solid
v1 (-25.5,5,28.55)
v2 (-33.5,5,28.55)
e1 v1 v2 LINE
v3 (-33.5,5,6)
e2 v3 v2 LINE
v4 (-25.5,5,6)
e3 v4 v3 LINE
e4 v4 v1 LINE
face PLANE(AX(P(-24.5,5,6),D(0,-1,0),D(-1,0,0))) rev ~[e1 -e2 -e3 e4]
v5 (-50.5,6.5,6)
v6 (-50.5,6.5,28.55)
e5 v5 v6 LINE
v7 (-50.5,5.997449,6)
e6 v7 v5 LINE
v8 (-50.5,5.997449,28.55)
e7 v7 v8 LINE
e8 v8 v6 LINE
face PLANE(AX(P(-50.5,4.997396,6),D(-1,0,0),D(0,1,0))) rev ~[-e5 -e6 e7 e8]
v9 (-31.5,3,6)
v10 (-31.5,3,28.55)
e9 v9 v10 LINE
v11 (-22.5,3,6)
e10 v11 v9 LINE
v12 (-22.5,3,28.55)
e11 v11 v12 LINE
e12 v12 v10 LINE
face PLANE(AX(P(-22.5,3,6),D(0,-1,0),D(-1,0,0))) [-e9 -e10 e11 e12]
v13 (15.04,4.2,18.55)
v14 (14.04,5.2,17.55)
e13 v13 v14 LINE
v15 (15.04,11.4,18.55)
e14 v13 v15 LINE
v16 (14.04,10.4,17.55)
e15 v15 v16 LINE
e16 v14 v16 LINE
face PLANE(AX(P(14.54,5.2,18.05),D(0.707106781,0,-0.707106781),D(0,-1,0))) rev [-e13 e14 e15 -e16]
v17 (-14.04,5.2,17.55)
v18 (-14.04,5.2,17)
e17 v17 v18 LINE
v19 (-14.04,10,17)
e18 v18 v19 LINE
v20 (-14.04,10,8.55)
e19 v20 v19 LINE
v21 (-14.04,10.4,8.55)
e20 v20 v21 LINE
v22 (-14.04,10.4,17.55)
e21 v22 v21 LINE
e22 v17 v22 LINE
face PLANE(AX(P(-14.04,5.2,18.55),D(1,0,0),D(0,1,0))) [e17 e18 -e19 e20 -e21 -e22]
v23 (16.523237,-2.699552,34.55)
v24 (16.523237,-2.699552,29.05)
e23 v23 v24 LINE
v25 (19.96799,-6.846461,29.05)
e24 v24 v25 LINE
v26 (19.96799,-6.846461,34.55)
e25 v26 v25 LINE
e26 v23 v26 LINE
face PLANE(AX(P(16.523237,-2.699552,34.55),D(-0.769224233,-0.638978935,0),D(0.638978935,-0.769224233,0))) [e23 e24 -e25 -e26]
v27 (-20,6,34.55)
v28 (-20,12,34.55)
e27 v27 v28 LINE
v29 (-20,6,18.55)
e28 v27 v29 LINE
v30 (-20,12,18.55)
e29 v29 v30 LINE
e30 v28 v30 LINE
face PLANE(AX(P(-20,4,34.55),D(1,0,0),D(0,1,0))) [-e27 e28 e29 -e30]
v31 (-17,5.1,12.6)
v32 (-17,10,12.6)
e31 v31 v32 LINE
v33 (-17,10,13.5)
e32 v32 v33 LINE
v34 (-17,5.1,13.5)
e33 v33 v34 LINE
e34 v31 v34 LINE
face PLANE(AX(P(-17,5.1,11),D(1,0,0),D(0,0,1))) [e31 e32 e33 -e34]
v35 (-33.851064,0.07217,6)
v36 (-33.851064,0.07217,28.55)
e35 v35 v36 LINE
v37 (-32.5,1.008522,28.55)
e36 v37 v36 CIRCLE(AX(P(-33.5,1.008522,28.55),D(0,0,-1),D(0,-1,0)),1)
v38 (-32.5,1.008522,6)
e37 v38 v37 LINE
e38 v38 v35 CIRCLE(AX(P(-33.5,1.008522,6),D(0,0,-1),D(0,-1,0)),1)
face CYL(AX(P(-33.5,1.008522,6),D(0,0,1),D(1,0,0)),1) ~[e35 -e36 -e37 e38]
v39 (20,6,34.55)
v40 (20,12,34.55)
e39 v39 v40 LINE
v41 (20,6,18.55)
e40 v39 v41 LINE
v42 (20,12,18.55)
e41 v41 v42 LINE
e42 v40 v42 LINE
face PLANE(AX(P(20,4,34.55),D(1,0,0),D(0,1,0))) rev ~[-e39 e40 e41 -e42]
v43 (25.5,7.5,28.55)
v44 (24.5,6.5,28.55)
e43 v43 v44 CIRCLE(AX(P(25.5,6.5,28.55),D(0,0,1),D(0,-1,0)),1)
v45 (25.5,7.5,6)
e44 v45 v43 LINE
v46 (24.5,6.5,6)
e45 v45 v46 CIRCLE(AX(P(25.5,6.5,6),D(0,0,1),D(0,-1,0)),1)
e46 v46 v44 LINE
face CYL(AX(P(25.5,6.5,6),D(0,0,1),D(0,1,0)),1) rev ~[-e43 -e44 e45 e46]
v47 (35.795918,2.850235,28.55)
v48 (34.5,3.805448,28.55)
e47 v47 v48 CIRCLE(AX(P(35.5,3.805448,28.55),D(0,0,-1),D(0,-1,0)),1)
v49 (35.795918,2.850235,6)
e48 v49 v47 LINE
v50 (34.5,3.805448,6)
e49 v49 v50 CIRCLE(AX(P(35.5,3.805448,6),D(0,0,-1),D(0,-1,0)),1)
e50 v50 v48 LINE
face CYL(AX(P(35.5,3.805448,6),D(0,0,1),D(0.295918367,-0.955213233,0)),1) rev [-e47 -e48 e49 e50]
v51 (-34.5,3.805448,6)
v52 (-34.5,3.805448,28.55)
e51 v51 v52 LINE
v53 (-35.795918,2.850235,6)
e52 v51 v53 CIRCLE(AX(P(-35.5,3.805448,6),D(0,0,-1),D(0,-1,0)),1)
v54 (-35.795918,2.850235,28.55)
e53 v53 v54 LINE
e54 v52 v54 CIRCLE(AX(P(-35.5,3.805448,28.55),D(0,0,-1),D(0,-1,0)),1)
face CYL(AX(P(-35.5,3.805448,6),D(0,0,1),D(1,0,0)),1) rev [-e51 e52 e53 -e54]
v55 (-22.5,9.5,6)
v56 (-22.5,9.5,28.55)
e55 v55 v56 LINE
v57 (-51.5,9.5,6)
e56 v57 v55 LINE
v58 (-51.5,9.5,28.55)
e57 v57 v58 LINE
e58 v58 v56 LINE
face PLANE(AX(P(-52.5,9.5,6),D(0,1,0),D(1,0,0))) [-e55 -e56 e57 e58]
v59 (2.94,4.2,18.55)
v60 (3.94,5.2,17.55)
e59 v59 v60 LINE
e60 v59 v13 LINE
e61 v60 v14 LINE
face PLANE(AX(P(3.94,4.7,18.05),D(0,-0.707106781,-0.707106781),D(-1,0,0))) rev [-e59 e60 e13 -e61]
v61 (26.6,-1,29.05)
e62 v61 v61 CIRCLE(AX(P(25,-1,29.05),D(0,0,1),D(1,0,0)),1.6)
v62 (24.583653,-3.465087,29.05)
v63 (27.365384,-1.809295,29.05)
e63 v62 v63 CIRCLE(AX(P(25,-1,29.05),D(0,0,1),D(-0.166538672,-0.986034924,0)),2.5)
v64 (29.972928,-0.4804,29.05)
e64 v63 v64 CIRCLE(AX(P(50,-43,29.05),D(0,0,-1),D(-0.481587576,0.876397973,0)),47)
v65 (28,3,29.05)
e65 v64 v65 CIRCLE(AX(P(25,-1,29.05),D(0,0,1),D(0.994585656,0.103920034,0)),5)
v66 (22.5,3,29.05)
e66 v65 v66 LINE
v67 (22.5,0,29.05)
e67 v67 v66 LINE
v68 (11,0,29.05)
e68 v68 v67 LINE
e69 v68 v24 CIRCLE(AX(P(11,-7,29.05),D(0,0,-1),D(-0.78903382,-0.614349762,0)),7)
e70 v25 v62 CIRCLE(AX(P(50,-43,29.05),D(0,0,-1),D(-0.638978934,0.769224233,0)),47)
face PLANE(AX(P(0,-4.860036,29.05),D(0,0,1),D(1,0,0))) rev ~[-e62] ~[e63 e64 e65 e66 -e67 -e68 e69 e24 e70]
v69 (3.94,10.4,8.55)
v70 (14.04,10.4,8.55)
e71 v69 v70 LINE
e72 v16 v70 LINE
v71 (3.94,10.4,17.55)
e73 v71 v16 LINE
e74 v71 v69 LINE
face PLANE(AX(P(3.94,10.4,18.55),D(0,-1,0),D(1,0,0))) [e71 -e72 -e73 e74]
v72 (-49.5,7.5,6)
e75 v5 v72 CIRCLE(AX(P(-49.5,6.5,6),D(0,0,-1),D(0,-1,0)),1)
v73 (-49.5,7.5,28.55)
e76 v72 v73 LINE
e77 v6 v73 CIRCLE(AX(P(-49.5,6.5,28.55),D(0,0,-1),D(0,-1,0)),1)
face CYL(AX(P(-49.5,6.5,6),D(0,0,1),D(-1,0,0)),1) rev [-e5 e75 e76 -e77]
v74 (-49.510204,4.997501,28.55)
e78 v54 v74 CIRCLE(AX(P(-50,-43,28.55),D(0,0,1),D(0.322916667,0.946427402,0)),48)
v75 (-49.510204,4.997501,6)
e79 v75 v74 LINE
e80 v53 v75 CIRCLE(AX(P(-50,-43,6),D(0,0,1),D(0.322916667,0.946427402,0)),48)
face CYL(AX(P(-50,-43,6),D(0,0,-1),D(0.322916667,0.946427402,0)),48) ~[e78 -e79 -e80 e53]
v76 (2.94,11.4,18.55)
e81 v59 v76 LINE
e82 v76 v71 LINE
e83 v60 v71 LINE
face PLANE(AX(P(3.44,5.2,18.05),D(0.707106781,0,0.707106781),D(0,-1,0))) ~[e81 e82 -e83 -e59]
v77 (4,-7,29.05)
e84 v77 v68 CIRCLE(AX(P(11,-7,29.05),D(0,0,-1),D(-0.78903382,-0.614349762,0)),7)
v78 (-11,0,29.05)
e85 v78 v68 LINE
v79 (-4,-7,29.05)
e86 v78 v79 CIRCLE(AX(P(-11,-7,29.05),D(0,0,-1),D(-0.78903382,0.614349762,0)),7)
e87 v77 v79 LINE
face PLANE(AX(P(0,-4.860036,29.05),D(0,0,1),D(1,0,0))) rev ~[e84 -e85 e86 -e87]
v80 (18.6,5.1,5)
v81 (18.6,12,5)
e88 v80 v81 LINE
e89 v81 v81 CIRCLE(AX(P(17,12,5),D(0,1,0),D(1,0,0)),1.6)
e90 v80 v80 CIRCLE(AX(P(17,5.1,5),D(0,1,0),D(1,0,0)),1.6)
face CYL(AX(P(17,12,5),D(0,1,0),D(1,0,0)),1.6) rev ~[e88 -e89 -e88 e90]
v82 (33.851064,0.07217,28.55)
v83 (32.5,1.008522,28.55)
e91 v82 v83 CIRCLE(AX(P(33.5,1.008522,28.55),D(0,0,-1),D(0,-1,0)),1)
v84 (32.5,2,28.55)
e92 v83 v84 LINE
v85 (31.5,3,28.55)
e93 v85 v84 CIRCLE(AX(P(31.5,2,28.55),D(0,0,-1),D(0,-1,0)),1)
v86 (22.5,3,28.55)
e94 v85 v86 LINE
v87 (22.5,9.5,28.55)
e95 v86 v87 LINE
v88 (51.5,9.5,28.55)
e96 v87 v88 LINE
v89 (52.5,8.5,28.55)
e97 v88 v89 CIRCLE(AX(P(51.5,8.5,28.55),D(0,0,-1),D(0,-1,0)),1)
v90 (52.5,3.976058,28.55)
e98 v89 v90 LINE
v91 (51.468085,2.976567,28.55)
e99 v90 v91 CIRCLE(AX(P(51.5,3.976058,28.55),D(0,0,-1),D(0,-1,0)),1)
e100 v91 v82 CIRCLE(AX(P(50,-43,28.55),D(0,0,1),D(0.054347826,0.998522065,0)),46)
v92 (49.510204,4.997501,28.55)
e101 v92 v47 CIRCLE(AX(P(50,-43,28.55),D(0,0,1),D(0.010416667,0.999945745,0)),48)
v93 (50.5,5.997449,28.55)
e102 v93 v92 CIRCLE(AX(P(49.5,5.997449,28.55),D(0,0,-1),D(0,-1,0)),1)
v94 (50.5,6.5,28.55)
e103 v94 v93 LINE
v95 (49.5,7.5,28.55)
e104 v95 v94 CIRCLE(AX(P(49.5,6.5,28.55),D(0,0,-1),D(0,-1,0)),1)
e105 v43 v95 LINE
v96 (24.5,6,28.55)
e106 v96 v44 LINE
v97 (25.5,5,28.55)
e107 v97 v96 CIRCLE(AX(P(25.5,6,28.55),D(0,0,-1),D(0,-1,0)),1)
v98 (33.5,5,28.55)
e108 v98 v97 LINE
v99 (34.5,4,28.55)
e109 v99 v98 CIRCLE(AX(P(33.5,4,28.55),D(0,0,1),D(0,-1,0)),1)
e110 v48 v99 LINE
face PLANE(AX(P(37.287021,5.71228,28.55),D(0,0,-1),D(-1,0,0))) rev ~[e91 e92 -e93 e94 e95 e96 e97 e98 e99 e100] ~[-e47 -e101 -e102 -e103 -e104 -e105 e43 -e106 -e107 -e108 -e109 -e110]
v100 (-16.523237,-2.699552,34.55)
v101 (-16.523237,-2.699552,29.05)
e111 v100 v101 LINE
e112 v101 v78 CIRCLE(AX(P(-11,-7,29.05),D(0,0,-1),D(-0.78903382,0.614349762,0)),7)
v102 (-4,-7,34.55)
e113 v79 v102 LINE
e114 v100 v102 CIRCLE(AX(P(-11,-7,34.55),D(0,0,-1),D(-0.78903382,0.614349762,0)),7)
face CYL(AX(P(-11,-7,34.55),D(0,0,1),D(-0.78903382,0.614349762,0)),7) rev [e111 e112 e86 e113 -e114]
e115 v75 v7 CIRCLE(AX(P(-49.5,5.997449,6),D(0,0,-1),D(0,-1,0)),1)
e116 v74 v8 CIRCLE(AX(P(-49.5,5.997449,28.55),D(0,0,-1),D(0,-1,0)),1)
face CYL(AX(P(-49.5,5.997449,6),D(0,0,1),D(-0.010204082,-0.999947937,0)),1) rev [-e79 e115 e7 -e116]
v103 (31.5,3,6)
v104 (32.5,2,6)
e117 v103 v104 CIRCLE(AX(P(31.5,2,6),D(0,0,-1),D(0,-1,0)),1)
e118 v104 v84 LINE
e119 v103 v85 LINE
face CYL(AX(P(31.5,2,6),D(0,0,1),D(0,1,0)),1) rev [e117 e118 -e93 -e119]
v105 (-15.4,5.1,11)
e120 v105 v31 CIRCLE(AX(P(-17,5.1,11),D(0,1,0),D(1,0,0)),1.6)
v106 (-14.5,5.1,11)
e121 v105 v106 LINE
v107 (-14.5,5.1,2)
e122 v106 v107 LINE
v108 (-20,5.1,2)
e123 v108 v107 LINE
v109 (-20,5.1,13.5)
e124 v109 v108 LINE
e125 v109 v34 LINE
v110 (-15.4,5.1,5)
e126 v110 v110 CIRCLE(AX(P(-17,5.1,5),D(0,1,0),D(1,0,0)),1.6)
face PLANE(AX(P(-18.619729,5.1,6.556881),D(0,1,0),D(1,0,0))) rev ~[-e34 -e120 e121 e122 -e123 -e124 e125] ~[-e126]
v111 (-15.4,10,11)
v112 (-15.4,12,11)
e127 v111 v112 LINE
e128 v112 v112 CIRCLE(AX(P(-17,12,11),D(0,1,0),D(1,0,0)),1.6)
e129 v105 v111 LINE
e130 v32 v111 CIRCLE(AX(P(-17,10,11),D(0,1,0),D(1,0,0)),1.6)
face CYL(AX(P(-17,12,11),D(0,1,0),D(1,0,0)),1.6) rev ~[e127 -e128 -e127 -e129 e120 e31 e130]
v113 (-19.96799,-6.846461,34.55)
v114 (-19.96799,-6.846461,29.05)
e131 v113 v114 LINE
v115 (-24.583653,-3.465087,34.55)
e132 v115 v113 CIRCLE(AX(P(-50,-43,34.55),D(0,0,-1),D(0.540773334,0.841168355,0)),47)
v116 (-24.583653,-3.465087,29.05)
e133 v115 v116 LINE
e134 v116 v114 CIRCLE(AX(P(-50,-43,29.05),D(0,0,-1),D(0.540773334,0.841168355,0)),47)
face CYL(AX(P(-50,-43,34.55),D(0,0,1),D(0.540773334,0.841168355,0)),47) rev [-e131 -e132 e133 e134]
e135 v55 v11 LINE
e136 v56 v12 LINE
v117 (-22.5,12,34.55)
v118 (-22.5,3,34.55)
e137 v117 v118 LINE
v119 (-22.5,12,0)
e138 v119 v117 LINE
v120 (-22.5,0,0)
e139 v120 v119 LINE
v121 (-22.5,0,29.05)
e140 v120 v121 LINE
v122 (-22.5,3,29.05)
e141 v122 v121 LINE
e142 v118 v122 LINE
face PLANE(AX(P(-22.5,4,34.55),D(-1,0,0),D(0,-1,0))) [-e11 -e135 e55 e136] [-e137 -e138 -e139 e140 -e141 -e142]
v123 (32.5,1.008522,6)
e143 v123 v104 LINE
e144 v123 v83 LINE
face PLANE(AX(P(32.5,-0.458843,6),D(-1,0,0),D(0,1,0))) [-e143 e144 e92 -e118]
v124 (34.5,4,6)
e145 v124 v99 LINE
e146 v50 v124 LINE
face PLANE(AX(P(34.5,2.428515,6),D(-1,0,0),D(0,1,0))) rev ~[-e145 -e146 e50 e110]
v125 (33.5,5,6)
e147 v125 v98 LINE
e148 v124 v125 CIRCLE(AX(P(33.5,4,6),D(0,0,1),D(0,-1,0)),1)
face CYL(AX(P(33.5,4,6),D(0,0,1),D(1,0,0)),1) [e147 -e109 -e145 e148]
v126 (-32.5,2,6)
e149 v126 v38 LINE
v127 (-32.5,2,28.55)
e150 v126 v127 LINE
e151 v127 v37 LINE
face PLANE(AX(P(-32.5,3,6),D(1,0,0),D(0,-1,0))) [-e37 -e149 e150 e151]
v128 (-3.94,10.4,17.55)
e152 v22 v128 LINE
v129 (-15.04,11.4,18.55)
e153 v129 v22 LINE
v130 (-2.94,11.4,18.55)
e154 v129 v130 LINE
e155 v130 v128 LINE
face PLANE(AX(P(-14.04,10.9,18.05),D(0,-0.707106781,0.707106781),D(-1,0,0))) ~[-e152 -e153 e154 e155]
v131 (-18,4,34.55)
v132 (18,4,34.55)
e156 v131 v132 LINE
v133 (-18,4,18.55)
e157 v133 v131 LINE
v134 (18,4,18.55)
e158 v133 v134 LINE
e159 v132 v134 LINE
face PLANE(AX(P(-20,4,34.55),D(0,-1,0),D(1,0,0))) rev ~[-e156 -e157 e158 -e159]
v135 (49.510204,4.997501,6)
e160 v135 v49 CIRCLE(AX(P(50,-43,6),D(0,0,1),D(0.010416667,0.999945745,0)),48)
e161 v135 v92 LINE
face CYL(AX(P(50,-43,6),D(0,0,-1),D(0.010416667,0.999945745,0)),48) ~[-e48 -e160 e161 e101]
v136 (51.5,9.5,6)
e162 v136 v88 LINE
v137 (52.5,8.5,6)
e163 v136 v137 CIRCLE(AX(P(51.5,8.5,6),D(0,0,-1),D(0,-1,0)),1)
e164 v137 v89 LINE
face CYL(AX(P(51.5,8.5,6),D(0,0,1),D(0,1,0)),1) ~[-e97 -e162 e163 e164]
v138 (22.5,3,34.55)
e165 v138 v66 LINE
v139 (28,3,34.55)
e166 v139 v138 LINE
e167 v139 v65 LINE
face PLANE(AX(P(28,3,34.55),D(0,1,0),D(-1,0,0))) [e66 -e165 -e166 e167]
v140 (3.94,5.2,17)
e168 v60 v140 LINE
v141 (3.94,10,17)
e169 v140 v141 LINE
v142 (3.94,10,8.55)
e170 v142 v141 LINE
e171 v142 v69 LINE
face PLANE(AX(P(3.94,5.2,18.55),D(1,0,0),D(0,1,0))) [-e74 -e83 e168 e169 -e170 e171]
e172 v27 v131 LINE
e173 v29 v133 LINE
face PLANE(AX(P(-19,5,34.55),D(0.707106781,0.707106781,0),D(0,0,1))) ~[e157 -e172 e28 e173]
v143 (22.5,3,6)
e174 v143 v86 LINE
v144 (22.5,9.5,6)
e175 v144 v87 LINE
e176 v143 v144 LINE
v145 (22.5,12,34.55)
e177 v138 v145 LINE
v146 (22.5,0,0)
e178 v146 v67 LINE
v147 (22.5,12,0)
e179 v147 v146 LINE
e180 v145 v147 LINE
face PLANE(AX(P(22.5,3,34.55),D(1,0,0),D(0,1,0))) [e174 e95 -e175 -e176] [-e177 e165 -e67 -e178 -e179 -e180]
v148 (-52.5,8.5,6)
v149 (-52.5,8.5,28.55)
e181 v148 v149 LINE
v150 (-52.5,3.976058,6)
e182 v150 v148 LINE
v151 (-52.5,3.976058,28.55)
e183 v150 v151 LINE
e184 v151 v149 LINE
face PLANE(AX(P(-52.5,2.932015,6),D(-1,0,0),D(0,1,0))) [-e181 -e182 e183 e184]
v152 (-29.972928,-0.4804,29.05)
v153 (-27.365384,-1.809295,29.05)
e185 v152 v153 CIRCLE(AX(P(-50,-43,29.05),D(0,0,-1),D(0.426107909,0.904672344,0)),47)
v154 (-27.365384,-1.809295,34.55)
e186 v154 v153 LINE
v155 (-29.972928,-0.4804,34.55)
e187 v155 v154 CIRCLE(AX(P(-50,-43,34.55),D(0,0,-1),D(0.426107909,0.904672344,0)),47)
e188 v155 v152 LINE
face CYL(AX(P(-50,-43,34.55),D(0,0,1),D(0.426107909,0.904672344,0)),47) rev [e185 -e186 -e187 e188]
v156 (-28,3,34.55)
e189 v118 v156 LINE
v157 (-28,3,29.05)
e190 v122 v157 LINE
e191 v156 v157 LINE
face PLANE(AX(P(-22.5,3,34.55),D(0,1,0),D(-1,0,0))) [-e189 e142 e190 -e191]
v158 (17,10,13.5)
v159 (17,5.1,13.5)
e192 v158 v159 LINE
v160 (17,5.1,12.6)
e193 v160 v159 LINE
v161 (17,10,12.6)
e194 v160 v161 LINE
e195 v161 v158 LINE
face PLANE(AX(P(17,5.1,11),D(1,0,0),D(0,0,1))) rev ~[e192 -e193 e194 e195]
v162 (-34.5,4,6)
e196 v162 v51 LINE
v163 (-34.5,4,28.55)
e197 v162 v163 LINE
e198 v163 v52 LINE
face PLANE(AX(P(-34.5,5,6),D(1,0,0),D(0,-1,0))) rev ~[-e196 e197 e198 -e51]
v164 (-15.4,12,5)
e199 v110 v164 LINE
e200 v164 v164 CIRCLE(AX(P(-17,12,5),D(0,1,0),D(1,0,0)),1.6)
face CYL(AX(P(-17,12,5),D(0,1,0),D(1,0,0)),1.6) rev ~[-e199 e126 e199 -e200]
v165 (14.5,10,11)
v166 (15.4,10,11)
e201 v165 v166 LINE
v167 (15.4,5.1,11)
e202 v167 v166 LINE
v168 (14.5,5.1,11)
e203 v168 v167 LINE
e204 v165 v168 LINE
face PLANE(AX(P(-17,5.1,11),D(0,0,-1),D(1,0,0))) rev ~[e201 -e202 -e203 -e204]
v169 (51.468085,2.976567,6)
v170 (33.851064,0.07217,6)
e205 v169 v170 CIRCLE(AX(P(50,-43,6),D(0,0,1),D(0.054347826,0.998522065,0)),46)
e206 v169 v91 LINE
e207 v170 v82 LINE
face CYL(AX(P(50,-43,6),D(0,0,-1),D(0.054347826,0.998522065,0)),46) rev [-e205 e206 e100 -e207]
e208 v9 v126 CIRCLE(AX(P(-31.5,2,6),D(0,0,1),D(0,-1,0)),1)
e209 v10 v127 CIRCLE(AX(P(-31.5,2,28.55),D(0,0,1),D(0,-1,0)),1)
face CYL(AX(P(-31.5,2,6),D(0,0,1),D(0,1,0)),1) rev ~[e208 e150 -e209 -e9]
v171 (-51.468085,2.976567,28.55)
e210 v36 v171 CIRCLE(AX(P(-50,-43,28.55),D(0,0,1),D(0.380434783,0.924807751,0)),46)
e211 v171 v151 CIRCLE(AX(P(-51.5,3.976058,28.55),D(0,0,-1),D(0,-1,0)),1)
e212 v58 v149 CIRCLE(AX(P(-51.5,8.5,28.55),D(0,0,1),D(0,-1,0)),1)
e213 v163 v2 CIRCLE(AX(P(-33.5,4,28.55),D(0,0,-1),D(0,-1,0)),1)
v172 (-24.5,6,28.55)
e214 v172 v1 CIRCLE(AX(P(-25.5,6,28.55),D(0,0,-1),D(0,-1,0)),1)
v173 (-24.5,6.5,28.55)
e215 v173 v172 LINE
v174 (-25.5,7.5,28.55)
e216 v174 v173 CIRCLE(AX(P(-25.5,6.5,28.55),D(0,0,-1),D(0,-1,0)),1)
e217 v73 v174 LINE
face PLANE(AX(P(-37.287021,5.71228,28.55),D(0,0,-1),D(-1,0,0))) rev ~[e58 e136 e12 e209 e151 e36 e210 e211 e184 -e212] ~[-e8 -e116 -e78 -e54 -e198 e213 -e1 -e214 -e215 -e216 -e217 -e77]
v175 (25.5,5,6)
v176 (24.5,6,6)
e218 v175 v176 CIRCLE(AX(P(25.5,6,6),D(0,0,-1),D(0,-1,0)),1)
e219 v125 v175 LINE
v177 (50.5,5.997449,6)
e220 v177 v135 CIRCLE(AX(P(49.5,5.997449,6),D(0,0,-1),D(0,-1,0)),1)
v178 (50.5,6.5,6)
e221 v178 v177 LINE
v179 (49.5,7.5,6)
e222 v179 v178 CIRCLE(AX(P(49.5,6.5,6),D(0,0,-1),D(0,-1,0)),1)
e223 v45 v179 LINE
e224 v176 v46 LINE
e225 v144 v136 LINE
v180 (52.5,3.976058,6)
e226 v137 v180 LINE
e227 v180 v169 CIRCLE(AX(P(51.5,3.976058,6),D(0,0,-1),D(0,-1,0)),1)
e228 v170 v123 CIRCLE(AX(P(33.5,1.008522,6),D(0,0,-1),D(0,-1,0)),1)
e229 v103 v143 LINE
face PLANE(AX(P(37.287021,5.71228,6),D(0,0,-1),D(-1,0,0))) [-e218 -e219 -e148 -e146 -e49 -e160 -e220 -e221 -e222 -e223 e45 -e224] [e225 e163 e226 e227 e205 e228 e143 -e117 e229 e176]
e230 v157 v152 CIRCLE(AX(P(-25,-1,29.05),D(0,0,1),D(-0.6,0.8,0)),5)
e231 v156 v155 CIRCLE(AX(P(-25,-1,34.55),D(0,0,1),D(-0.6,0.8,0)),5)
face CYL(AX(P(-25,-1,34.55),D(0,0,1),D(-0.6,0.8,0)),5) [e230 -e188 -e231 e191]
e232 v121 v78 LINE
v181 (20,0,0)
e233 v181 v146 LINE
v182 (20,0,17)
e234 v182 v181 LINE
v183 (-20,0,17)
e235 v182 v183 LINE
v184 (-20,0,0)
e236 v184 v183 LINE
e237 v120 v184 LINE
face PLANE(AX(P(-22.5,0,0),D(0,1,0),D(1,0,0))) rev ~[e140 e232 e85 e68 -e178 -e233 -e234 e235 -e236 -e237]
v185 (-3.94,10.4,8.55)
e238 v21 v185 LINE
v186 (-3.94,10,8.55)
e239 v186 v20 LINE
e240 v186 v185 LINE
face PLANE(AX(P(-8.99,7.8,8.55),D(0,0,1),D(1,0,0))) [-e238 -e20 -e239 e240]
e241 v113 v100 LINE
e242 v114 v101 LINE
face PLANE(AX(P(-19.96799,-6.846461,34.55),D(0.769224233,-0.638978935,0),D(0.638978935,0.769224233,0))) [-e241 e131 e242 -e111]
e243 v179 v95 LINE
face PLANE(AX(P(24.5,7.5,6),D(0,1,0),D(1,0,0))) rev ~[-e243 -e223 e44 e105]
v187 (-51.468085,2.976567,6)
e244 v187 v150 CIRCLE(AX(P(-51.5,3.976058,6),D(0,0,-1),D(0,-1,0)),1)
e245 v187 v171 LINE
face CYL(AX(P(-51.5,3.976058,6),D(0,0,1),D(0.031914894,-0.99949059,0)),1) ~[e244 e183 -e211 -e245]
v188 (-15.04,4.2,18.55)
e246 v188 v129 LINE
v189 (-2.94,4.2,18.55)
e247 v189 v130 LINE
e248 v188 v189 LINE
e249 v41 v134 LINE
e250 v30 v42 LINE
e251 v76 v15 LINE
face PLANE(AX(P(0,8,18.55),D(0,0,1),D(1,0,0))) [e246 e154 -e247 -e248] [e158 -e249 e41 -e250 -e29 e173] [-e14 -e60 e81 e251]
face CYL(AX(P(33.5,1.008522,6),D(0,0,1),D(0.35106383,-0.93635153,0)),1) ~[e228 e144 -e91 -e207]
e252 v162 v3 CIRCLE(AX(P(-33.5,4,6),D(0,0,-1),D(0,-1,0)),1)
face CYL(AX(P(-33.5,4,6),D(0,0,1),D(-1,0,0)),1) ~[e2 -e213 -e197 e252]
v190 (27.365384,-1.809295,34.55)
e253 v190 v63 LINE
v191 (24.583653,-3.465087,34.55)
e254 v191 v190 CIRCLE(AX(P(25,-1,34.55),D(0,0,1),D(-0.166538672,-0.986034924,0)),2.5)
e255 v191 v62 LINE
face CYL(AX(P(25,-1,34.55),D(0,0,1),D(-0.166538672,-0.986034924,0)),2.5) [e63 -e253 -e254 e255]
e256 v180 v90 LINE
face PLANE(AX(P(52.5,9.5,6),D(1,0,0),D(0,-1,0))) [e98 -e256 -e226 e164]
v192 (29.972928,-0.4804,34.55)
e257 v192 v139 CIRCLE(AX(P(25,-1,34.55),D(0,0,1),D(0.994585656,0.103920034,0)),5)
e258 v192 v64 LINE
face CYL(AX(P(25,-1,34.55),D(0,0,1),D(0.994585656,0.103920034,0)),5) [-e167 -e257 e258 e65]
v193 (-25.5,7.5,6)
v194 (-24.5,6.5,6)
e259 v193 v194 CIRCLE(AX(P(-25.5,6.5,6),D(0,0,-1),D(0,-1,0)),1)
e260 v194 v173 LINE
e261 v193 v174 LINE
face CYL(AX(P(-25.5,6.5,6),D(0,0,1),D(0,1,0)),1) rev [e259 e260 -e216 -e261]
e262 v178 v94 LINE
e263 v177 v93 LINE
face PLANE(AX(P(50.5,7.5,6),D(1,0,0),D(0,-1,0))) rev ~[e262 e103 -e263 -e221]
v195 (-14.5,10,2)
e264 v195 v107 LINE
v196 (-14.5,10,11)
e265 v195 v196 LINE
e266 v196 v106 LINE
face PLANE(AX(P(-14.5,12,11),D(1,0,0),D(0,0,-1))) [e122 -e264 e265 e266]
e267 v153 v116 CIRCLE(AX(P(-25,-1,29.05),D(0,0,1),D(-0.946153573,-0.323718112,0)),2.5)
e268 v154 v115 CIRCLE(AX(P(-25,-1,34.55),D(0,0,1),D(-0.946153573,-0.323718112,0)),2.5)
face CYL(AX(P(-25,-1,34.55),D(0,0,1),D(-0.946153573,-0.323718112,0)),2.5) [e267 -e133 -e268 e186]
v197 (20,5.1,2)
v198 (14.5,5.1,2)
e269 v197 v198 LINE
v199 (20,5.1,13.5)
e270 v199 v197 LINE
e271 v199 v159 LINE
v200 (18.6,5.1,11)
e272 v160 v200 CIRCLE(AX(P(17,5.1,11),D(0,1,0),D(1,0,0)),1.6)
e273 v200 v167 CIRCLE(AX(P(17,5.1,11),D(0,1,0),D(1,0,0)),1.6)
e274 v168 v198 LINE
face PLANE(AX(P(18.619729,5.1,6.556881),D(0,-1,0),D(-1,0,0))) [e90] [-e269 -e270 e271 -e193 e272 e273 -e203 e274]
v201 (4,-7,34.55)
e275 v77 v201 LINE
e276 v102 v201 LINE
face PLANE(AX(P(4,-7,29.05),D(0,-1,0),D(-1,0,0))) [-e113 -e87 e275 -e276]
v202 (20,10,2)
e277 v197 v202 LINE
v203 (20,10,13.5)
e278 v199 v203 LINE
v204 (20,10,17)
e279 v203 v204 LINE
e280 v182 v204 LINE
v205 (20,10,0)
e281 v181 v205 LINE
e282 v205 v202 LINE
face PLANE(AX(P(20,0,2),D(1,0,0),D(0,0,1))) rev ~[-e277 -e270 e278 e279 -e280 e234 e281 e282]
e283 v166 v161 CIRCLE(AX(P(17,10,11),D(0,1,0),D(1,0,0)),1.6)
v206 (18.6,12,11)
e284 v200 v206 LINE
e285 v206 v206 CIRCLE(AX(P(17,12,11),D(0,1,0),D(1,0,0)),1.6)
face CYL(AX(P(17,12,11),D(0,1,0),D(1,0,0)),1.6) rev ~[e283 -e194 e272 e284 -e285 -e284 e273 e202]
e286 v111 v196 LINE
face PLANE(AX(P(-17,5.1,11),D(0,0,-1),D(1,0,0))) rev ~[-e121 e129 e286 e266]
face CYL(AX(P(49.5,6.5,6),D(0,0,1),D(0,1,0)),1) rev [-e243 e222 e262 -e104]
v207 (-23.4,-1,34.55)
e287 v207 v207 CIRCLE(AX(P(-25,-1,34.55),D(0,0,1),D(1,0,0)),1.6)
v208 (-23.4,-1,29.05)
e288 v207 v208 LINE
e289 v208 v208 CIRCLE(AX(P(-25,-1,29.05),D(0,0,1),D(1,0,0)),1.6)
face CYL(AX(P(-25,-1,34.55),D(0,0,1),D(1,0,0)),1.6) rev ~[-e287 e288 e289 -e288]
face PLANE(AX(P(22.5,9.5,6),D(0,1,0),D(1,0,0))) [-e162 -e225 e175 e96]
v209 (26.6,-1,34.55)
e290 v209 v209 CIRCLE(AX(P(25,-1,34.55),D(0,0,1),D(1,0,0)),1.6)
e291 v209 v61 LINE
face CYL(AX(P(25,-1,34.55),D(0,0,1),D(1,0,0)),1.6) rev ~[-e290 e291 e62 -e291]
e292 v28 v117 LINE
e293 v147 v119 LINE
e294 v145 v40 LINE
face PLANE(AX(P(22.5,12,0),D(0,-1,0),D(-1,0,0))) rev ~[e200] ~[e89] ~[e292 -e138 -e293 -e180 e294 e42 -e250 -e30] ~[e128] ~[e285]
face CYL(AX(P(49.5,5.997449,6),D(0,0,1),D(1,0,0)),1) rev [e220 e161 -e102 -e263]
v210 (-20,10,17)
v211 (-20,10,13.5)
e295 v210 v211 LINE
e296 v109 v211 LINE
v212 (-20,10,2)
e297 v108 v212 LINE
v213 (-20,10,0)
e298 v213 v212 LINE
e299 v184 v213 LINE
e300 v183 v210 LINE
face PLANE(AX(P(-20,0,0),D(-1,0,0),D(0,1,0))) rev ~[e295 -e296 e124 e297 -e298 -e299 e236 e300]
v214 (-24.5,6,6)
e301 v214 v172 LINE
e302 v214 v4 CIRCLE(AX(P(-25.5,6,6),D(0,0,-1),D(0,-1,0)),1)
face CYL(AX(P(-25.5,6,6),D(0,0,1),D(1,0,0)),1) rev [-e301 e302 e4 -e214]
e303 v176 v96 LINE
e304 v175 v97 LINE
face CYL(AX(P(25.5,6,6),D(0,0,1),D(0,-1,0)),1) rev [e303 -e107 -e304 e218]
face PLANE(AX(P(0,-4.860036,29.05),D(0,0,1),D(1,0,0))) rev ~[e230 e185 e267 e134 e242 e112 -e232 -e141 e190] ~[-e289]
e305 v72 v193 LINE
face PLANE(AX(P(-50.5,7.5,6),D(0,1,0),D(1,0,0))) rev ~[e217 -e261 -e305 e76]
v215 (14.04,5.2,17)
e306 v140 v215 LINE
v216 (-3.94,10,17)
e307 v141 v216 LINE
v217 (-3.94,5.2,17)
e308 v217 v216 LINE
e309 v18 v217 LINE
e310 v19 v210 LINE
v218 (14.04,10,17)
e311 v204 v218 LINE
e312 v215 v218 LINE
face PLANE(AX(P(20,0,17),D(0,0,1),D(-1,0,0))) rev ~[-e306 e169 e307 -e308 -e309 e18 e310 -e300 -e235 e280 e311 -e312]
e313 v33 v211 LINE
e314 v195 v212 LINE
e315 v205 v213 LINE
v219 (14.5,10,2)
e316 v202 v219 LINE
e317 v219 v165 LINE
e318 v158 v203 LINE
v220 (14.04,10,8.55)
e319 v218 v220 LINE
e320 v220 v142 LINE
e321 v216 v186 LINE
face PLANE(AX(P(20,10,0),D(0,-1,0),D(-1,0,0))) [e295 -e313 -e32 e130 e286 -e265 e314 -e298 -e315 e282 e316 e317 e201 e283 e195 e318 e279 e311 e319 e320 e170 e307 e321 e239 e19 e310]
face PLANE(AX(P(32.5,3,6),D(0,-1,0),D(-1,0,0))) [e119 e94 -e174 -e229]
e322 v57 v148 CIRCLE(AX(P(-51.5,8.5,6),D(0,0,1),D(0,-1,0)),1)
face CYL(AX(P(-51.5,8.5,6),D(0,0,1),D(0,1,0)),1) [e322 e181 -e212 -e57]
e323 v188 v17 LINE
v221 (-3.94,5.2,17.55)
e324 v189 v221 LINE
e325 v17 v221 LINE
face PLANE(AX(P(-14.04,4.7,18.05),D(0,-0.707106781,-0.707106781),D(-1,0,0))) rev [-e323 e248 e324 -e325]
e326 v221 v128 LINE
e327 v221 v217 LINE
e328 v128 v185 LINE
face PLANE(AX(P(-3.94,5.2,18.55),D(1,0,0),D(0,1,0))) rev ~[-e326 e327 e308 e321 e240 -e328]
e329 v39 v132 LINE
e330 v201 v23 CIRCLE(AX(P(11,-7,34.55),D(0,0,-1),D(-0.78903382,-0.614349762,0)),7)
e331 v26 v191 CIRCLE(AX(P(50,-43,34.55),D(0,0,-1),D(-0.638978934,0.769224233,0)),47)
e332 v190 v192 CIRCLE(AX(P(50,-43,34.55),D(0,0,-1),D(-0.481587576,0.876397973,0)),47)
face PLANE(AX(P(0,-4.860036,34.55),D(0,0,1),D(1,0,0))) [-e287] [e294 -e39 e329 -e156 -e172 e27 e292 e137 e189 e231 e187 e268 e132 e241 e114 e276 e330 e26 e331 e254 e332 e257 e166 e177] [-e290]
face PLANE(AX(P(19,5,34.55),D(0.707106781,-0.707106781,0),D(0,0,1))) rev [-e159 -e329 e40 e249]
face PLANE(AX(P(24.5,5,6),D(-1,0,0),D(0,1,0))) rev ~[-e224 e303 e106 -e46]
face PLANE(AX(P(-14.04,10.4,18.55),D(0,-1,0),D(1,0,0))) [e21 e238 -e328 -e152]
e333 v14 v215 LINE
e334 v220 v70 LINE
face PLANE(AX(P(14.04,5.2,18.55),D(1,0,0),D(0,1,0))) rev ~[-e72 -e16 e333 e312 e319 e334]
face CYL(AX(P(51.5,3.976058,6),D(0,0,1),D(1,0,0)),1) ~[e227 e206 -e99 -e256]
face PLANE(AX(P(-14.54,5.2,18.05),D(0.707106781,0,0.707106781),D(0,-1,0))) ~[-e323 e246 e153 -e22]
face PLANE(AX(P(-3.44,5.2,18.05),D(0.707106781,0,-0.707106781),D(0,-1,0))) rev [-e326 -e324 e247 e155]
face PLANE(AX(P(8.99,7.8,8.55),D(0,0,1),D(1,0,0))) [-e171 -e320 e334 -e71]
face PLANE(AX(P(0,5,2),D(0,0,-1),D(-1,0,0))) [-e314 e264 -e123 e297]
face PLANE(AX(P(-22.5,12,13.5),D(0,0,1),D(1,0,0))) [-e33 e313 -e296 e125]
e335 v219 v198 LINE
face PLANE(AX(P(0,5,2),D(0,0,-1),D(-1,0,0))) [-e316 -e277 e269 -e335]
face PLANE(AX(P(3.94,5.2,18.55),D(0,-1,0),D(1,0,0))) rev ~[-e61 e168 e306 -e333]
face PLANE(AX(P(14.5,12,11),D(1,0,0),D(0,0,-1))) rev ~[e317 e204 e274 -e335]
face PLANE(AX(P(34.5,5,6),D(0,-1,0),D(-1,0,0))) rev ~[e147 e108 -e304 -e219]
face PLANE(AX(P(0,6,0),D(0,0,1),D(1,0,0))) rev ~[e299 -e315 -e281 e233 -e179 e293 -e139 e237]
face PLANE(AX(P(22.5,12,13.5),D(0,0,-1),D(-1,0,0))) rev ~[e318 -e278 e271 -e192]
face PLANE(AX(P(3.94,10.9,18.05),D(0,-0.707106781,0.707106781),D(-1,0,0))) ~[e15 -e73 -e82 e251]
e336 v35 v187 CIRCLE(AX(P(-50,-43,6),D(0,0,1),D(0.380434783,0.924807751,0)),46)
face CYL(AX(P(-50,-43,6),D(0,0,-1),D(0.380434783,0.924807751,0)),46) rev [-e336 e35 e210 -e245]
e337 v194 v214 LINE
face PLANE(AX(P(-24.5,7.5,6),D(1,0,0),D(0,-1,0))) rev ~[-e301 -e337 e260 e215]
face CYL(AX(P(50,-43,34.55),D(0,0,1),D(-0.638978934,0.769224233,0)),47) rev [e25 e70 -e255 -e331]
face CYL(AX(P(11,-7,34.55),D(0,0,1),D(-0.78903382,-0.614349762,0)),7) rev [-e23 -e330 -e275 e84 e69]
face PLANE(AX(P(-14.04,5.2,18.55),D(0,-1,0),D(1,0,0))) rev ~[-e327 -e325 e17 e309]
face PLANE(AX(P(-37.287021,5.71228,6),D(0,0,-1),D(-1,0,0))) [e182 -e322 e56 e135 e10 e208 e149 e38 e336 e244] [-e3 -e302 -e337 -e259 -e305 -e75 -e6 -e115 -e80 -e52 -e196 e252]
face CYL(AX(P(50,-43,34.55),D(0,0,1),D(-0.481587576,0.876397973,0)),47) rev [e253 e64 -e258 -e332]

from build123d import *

# Parameters (mm, degrees)
EXTRUDE_1_DEPTH     = 34.55
SKETCH_2_W          = 40
SKETCH_2_H          = 8
CUT_EXTRUDE_1_DEPTH = 16
CUT_EXTRUDE_2_DEPTH = 10
SKETCH_4_W          = 10.1
SKETCH_4_H          = 5.2
CUT_EXTRUDE_3_DEPTH = 10
CHAMFER_1_SIZE      = 2
CHAMFER_2_SIZE      = 1
SKETCH_6_R          = 1.6
EXTRUDE_2_DEPTH     = 6.9
SKETCH_7_R          = 1.6
CUT_EXTRUDE_4_DEPTH = 10
SKETCH_8_R          = 1.6
EXTRUDE_3_DEPTH     = 5.5
SKETCH_10_W         = 40
SKETCH_10_H         = 10
CUT_EXTRUDE_5_DEPTH = 2
CUT_EXTRUDE_6_DEPTH = 10
SKETCH_12_W         = 34
SKETCH_12_H         = 2.5
CUT_EXTRUDE_7_DEPTH = 4.9
EXTRUDE_START       = -6
EXTRUDE_4_DEPTH     = 22.55
FILLET_1_R          = 1


with BuildPart() as part:
    # 草图1 → 凸台-拉伸1 (new body)
    with BuildSketch(Plane.XY):
        Polygon((0, 0), (22.5, 0), (22.5, 12), (-22.5, 12), (-22.5, 0), align=None)
    extrude(amount=EXTRUDE_1_DEPTH)

    # 草图2 → 切除-拉伸1 (cut)
    with BuildSketch(Plane.XY.offset(34.55)):
        with Locations((0, 8)):
            Rectangle(SKETCH_2_W, SKETCH_2_H)
    extrude(amount=-CUT_EXTRUDE_1_DEPTH, mode=Mode.SUBTRACT)

    # 草图3 → 切除-拉伸2 (cut)
    with BuildSketch(Plane.XZ):
        Polygon((0, 2), (20, 2), (20, 17), (-20, 17), (-20, 2), align=None)
    extrude(amount=-CUT_EXTRUDE_2_DEPTH, mode=Mode.SUBTRACT)

    # 草图4 → 切除-拉伸3 (cut)
    with BuildSketch(Plane.XY.offset(18.55)):
        with Locations((-8.99, 7.8)):
            Rectangle(SKETCH_4_W, SKETCH_4_H)
        with Locations((8.99, 7.8)):
            Rectangle(SKETCH_4_W, SKETCH_4_H)
    extrude(amount=-CUT_EXTRUDE_3_DEPTH, mode=Mode.SUBTRACT)

    # 倒角1
    chamfer_1_edges = [part.edges().sort_by_distance(p)[0] for p in [
        (20, 4, 26.55),
        (-20, 4, 26.55),
    ]]
    chamfer(chamfer_1_edges, length=CHAMFER_1_SIZE)

    # 倒角2
    chamfer_2_edges = [part.edges().sort_by_distance(p)[0] for p in [
        (-8.99, 10.4, 18.55),
        (-14.04, 7.8, 18.55),
        (-8.99, 5.2, 18.55),
        (-3.94, 7.8, 18.55),
        (3.94, 7.8, 18.55),
        (8.99, 5.2, 18.55),
        (14.04, 7.8, 18.55),
        (8.99, 10.4, 18.55),
    ]]
    chamfer(chamfer_2_edges, length=CHAMFER_2_SIZE)

    # 草图6 → 凸台-拉伸2 (add)
    with BuildSketch(Plane(origin=(0, 12, 0), x_dir=(1, 0, 0), z_dir=(0, 1, 0))):
        with BuildLine():
            Line((22.5, 0), (22.5, -13.5))
            Line((22.5, -13.5), (17, -13.5))
            ThreePointArc((17, -13.5), (15.232233047, -12.767766953), (14.5, -11))
            Line((14.5, -11), (14.5, -5))
            Line((14.5, -5), (14.5, 0))
            Line((14.5, 0), (22.5, 0))
        make_face()
        with Locations((17, -5)):
            Circle(SKETCH_6_R, mode=Mode.SUBTRACT)
        with Locations((17, -11)):
            Circle(SKETCH_6_R, mode=Mode.SUBTRACT)
        with BuildLine():
            Line((-14.5, 0), (-22.5, 0))
            Line((-22.5, 0), (-22.5, -13.5))
            Line((-22.5, -13.5), (-17, -13.5))
            ThreePointArc((-17, -13.5), (-15.232233047, -12.767766953), (-14.5, -11))
            Line((-14.5, -11), (-14.5, -5))
            Line((-14.5, -5), (-14.5, 0))
        make_face()
        with Locations((-17, -11)):
            Circle(SKETCH_6_R, mode=Mode.SUBTRACT)
        with Locations((-17, -5)):
            Circle(SKETCH_6_R, mode=Mode.SUBTRACT)
    extrude(amount=-EXTRUDE_2_DEPTH)

    # 草图7 → 切除-拉伸4 (cut)
    with BuildSketch(Plane(origin=(0, 12, 0), x_dir=(1, 0, 0), z_dir=(0, 1, 0))):
        with Locations((17, -5)):
            Circle(SKETCH_7_R)
        with Locations((17, -11)):
            Circle(SKETCH_7_R)
        with Locations((-17, -5)):
            Circle(SKETCH_7_R)
        with Locations((-17, -11)):
            Circle(SKETCH_7_R)
    extrude(amount=-CUT_EXTRUDE_4_DEPTH, mode=Mode.SUBTRACT)

    # 草图8 → 凸台-拉伸3 (add)
    with BuildSketch(Plane.XY.offset(34.55)):
        with BuildLine():
            Line((1.843049286, -25.367101461), (9.230566594, -19.615105309))
            ThreePointArc((9.230566594, -19.615105309), (9.814108465, -18.625953935), (10.421644381, -17.651355727))
            Line((10.421644381, -17.651355727), (5.476763257, -11.300448334))
            ThreePointArc((5.476763257, -11.300448334), (6.699551666, -1.476763257), (16.523236743, -2.699551666))
            Line((16.523236743, -2.699551666), (19.967990067, -6.846461039))
            ThreePointArc((19.967990067, -6.846461039), (22.224318463, -5.085470923), (24.58365332, -3.465087309))
            ThreePointArc((24.58365332, -3.465087309), (26.278709649, -3.148232211), (27.365383934, -1.809295278))
            ThreePointArc((27.365383934, -1.809295278), (28.658809968, -1.124546474), (29.972928279, -0.480399834))
            ThreePointArc((29.972928279, -0.480399834), (29.349734714, 1.46572665), (28, 3))
            Line((28, 3), (22.5, 3))
            Line((22.5, 3), (22.5, 4))
            Line((22.5, 4), (-22.5, 4))
            Line((-22.5, 4), (-22.5, 3))
            Line((-22.5, 3), (-28, 3))
            ThreePointArc((-28, 3), (-29.349734714, 1.46572665), (-29.972928279, -0.480399834))
            ThreePointArc((-29.972928279, -0.480399834), (-28.658809968, -1.124546474), (-27.365383934, -1.809295278))
            ThreePointArc((-27.365383934, -1.809295278), (-26.278709649, -3.148232211), (-24.58365332, -3.465087309))
            ThreePointArc((-24.58365332, -3.465087309), (-22.224318463, -5.085470923), (-19.967990067, -6.846461039))
            Line((-19.967990067, -6.846461039), (-16.523236743, -2.699551666))
            ThreePointArc((-16.523236743, -2.699551666), (-6.699551666, -1.476763257), (-5.476763257, -11.300448334))
            Line((-5.476763257, -11.300448334), (-10.421644381, -17.651355727))
            ThreePointArc((-10.421644381, -17.651355727), (-9.814108465, -18.625953935), (-9.230566594, -19.615105309))
            Line((-9.230566594, -19.615105309), (-1.843049286, -25.367101461))
            ThreePointArc((-1.843049286, -25.367101461), (0, -26), (1.843049286, -25.367101461))
        make_face()
        with Locations((25, -1)):
            Circle(SKETCH_8_R, mode=Mode.SUBTRACT)
        with Locations((0, -23)):
            Circle(SKETCH_8_R, mode=Mode.SUBTRACT)
        with Locations((-25, -1)):
            Circle(SKETCH_8_R, mode=Mode.SUBTRACT)
    extrude(amount=-EXTRUDE_3_DEPTH)

    # 草图10 → 切除-拉伸5 (cut)
    with BuildSketch(Plane(origin=(0, 0, 0), x_dir=(-1, 0, 0), z_dir=(0, 0, -1))):
        with Locations((0, 5)):
            Rectangle(SKETCH_10_W, SKETCH_10_H)
    extrude(amount=-CUT_EXTRUDE_5_DEPTH, mode=Mode.SUBTRACT)

    # 草图11 → 切除-拉伸6 (cut)
    with BuildSketch(Plane(origin=(0, 0, 29.05), x_dir=(-1, 0, 0), z_dir=(0, 0, -1))):
        Polygon((-4, -7), (4, -7), (10.421644381, -17.651355727), (10.421644381, -27.0891889), (-10.421644381, -27.0891889), (-10.421644381, -17.651355727), align=None)
    extrude(amount=-CUT_EXTRUDE_6_DEPTH, mode=Mode.SUBTRACT)

    # 草图12 → 切除-拉伸7 (cut)
    with BuildSketch(Plane.XZ.offset(-5.1)):
        with Locations((0, 12.25)):
            Rectangle(SKETCH_12_W, SKETCH_12_H)
    extrude(amount=-CUT_EXTRUDE_7_DEPTH, mode=Mode.SUBTRACT)

    # 草图14 → 凸台-拉伸4 (add)
    with BuildSketch(Plane(origin=(0, 0, 0), x_dir=(-1, 0, 0), z_dir=(0, 0, -1)).offset(EXTRUDE_START)):
        with BuildLine():
            Line((-22.5, 9.5), (-52.5, 9.5))
            Line((-52.5, 9.5), (-52.5, 2.932014979))
            ThreePointArc((-52.5, 2.932014979), (-42.310755549, 2.352789548), (-32.5, -0.458843457))
            Line((-32.5, -0.458843457), (-32.5, 3))
            Line((-32.5, 3), (-22.5, 3))
            Line((-22.5, 3), (-22.5, 9.5))
        make_face()
        with BuildLine():
            Line((-24.5, 7.5), (-50.5, 7.5))
            Line((-50.5, 7.5), (-50.5, 4.997395763))
            ThreePointArc((-50.5, 4.997395763), (-42.390809061, 4.393039713), (-34.5, 2.428515274))
            Line((-34.5, 2.428515274), (-34.5, 5))
            Line((-34.5, 5), (-24.5, 5))
            Line((-24.5, 5), (-24.5, 7.5))
        make_face(mode=Mode.SUBTRACT)
        with BuildLine():
            Line((32.5, 3), (32.5, -0.458843457))
            ThreePointArc((32.5, -0.458843457), (42.310755549, 2.352789548), (52.5, 2.932014979))
            Line((52.5, 2.932014979), (52.5, 9.5))
            Line((52.5, 9.5), (22.5, 9.5))
            Line((22.5, 9.5), (22.5, 3))
            Line((22.5, 3), (32.5, 3))
        make_face()
        with BuildLine():
            Line((34.5, 5), (34.5, 2.428515274))
            ThreePointArc((34.5, 2.428515274), (42.390809061, 4.393039713), (50.5, 4.997395763))
            Line((50.5, 4.997395763), (50.5, 7.5))
            Line((50.5, 7.5), (24.5, 7.5))
            Line((24.5, 7.5), (24.5, 5))
            Line((24.5, 5), (34.5, 5))
        make_face(mode=Mode.SUBTRACT)
    extrude(amount=-EXTRUDE_4_DEPTH)

    # 圆角1
    fillet_1_edges = [part.edges().sort_by_distance(p)[0] for p in [
        (32.5, 3, 17.275),
        (32.5, -0.458843457, 17.275),
        (52.5, 2.932014979, 17.275),
        (52.5, 9.5, 17.275),
        (24.5, 5, 17.275),
        (34.5, 5, 17.275),
        (34.5, 2.428515274, 17.275),
        (50.5, 4.997395763, 17.275),
        (50.5, 7.5, 17.275),
        (24.5, 7.5, 17.275),
        (-52.5, 2.932014979, 17.275),
        (-32.5, -0.458843457, 17.275),
        (-32.5, 3, 17.275),
        (-52.5, 9.5, 17.275),
        (-24.5, 5, 17.275),
        (-24.5, 7.5, 17.275),
        (-50.5, 7.5, 17.275),
        (-50.5, 4.997395763, 17.275),
        (-34.5, 2.428515274, 17.275),
        (-34.5, 5, 17.275),
    ]]
    fillet(fillet_1_edges, radius=FILLET_1_R)


solid = part.part
